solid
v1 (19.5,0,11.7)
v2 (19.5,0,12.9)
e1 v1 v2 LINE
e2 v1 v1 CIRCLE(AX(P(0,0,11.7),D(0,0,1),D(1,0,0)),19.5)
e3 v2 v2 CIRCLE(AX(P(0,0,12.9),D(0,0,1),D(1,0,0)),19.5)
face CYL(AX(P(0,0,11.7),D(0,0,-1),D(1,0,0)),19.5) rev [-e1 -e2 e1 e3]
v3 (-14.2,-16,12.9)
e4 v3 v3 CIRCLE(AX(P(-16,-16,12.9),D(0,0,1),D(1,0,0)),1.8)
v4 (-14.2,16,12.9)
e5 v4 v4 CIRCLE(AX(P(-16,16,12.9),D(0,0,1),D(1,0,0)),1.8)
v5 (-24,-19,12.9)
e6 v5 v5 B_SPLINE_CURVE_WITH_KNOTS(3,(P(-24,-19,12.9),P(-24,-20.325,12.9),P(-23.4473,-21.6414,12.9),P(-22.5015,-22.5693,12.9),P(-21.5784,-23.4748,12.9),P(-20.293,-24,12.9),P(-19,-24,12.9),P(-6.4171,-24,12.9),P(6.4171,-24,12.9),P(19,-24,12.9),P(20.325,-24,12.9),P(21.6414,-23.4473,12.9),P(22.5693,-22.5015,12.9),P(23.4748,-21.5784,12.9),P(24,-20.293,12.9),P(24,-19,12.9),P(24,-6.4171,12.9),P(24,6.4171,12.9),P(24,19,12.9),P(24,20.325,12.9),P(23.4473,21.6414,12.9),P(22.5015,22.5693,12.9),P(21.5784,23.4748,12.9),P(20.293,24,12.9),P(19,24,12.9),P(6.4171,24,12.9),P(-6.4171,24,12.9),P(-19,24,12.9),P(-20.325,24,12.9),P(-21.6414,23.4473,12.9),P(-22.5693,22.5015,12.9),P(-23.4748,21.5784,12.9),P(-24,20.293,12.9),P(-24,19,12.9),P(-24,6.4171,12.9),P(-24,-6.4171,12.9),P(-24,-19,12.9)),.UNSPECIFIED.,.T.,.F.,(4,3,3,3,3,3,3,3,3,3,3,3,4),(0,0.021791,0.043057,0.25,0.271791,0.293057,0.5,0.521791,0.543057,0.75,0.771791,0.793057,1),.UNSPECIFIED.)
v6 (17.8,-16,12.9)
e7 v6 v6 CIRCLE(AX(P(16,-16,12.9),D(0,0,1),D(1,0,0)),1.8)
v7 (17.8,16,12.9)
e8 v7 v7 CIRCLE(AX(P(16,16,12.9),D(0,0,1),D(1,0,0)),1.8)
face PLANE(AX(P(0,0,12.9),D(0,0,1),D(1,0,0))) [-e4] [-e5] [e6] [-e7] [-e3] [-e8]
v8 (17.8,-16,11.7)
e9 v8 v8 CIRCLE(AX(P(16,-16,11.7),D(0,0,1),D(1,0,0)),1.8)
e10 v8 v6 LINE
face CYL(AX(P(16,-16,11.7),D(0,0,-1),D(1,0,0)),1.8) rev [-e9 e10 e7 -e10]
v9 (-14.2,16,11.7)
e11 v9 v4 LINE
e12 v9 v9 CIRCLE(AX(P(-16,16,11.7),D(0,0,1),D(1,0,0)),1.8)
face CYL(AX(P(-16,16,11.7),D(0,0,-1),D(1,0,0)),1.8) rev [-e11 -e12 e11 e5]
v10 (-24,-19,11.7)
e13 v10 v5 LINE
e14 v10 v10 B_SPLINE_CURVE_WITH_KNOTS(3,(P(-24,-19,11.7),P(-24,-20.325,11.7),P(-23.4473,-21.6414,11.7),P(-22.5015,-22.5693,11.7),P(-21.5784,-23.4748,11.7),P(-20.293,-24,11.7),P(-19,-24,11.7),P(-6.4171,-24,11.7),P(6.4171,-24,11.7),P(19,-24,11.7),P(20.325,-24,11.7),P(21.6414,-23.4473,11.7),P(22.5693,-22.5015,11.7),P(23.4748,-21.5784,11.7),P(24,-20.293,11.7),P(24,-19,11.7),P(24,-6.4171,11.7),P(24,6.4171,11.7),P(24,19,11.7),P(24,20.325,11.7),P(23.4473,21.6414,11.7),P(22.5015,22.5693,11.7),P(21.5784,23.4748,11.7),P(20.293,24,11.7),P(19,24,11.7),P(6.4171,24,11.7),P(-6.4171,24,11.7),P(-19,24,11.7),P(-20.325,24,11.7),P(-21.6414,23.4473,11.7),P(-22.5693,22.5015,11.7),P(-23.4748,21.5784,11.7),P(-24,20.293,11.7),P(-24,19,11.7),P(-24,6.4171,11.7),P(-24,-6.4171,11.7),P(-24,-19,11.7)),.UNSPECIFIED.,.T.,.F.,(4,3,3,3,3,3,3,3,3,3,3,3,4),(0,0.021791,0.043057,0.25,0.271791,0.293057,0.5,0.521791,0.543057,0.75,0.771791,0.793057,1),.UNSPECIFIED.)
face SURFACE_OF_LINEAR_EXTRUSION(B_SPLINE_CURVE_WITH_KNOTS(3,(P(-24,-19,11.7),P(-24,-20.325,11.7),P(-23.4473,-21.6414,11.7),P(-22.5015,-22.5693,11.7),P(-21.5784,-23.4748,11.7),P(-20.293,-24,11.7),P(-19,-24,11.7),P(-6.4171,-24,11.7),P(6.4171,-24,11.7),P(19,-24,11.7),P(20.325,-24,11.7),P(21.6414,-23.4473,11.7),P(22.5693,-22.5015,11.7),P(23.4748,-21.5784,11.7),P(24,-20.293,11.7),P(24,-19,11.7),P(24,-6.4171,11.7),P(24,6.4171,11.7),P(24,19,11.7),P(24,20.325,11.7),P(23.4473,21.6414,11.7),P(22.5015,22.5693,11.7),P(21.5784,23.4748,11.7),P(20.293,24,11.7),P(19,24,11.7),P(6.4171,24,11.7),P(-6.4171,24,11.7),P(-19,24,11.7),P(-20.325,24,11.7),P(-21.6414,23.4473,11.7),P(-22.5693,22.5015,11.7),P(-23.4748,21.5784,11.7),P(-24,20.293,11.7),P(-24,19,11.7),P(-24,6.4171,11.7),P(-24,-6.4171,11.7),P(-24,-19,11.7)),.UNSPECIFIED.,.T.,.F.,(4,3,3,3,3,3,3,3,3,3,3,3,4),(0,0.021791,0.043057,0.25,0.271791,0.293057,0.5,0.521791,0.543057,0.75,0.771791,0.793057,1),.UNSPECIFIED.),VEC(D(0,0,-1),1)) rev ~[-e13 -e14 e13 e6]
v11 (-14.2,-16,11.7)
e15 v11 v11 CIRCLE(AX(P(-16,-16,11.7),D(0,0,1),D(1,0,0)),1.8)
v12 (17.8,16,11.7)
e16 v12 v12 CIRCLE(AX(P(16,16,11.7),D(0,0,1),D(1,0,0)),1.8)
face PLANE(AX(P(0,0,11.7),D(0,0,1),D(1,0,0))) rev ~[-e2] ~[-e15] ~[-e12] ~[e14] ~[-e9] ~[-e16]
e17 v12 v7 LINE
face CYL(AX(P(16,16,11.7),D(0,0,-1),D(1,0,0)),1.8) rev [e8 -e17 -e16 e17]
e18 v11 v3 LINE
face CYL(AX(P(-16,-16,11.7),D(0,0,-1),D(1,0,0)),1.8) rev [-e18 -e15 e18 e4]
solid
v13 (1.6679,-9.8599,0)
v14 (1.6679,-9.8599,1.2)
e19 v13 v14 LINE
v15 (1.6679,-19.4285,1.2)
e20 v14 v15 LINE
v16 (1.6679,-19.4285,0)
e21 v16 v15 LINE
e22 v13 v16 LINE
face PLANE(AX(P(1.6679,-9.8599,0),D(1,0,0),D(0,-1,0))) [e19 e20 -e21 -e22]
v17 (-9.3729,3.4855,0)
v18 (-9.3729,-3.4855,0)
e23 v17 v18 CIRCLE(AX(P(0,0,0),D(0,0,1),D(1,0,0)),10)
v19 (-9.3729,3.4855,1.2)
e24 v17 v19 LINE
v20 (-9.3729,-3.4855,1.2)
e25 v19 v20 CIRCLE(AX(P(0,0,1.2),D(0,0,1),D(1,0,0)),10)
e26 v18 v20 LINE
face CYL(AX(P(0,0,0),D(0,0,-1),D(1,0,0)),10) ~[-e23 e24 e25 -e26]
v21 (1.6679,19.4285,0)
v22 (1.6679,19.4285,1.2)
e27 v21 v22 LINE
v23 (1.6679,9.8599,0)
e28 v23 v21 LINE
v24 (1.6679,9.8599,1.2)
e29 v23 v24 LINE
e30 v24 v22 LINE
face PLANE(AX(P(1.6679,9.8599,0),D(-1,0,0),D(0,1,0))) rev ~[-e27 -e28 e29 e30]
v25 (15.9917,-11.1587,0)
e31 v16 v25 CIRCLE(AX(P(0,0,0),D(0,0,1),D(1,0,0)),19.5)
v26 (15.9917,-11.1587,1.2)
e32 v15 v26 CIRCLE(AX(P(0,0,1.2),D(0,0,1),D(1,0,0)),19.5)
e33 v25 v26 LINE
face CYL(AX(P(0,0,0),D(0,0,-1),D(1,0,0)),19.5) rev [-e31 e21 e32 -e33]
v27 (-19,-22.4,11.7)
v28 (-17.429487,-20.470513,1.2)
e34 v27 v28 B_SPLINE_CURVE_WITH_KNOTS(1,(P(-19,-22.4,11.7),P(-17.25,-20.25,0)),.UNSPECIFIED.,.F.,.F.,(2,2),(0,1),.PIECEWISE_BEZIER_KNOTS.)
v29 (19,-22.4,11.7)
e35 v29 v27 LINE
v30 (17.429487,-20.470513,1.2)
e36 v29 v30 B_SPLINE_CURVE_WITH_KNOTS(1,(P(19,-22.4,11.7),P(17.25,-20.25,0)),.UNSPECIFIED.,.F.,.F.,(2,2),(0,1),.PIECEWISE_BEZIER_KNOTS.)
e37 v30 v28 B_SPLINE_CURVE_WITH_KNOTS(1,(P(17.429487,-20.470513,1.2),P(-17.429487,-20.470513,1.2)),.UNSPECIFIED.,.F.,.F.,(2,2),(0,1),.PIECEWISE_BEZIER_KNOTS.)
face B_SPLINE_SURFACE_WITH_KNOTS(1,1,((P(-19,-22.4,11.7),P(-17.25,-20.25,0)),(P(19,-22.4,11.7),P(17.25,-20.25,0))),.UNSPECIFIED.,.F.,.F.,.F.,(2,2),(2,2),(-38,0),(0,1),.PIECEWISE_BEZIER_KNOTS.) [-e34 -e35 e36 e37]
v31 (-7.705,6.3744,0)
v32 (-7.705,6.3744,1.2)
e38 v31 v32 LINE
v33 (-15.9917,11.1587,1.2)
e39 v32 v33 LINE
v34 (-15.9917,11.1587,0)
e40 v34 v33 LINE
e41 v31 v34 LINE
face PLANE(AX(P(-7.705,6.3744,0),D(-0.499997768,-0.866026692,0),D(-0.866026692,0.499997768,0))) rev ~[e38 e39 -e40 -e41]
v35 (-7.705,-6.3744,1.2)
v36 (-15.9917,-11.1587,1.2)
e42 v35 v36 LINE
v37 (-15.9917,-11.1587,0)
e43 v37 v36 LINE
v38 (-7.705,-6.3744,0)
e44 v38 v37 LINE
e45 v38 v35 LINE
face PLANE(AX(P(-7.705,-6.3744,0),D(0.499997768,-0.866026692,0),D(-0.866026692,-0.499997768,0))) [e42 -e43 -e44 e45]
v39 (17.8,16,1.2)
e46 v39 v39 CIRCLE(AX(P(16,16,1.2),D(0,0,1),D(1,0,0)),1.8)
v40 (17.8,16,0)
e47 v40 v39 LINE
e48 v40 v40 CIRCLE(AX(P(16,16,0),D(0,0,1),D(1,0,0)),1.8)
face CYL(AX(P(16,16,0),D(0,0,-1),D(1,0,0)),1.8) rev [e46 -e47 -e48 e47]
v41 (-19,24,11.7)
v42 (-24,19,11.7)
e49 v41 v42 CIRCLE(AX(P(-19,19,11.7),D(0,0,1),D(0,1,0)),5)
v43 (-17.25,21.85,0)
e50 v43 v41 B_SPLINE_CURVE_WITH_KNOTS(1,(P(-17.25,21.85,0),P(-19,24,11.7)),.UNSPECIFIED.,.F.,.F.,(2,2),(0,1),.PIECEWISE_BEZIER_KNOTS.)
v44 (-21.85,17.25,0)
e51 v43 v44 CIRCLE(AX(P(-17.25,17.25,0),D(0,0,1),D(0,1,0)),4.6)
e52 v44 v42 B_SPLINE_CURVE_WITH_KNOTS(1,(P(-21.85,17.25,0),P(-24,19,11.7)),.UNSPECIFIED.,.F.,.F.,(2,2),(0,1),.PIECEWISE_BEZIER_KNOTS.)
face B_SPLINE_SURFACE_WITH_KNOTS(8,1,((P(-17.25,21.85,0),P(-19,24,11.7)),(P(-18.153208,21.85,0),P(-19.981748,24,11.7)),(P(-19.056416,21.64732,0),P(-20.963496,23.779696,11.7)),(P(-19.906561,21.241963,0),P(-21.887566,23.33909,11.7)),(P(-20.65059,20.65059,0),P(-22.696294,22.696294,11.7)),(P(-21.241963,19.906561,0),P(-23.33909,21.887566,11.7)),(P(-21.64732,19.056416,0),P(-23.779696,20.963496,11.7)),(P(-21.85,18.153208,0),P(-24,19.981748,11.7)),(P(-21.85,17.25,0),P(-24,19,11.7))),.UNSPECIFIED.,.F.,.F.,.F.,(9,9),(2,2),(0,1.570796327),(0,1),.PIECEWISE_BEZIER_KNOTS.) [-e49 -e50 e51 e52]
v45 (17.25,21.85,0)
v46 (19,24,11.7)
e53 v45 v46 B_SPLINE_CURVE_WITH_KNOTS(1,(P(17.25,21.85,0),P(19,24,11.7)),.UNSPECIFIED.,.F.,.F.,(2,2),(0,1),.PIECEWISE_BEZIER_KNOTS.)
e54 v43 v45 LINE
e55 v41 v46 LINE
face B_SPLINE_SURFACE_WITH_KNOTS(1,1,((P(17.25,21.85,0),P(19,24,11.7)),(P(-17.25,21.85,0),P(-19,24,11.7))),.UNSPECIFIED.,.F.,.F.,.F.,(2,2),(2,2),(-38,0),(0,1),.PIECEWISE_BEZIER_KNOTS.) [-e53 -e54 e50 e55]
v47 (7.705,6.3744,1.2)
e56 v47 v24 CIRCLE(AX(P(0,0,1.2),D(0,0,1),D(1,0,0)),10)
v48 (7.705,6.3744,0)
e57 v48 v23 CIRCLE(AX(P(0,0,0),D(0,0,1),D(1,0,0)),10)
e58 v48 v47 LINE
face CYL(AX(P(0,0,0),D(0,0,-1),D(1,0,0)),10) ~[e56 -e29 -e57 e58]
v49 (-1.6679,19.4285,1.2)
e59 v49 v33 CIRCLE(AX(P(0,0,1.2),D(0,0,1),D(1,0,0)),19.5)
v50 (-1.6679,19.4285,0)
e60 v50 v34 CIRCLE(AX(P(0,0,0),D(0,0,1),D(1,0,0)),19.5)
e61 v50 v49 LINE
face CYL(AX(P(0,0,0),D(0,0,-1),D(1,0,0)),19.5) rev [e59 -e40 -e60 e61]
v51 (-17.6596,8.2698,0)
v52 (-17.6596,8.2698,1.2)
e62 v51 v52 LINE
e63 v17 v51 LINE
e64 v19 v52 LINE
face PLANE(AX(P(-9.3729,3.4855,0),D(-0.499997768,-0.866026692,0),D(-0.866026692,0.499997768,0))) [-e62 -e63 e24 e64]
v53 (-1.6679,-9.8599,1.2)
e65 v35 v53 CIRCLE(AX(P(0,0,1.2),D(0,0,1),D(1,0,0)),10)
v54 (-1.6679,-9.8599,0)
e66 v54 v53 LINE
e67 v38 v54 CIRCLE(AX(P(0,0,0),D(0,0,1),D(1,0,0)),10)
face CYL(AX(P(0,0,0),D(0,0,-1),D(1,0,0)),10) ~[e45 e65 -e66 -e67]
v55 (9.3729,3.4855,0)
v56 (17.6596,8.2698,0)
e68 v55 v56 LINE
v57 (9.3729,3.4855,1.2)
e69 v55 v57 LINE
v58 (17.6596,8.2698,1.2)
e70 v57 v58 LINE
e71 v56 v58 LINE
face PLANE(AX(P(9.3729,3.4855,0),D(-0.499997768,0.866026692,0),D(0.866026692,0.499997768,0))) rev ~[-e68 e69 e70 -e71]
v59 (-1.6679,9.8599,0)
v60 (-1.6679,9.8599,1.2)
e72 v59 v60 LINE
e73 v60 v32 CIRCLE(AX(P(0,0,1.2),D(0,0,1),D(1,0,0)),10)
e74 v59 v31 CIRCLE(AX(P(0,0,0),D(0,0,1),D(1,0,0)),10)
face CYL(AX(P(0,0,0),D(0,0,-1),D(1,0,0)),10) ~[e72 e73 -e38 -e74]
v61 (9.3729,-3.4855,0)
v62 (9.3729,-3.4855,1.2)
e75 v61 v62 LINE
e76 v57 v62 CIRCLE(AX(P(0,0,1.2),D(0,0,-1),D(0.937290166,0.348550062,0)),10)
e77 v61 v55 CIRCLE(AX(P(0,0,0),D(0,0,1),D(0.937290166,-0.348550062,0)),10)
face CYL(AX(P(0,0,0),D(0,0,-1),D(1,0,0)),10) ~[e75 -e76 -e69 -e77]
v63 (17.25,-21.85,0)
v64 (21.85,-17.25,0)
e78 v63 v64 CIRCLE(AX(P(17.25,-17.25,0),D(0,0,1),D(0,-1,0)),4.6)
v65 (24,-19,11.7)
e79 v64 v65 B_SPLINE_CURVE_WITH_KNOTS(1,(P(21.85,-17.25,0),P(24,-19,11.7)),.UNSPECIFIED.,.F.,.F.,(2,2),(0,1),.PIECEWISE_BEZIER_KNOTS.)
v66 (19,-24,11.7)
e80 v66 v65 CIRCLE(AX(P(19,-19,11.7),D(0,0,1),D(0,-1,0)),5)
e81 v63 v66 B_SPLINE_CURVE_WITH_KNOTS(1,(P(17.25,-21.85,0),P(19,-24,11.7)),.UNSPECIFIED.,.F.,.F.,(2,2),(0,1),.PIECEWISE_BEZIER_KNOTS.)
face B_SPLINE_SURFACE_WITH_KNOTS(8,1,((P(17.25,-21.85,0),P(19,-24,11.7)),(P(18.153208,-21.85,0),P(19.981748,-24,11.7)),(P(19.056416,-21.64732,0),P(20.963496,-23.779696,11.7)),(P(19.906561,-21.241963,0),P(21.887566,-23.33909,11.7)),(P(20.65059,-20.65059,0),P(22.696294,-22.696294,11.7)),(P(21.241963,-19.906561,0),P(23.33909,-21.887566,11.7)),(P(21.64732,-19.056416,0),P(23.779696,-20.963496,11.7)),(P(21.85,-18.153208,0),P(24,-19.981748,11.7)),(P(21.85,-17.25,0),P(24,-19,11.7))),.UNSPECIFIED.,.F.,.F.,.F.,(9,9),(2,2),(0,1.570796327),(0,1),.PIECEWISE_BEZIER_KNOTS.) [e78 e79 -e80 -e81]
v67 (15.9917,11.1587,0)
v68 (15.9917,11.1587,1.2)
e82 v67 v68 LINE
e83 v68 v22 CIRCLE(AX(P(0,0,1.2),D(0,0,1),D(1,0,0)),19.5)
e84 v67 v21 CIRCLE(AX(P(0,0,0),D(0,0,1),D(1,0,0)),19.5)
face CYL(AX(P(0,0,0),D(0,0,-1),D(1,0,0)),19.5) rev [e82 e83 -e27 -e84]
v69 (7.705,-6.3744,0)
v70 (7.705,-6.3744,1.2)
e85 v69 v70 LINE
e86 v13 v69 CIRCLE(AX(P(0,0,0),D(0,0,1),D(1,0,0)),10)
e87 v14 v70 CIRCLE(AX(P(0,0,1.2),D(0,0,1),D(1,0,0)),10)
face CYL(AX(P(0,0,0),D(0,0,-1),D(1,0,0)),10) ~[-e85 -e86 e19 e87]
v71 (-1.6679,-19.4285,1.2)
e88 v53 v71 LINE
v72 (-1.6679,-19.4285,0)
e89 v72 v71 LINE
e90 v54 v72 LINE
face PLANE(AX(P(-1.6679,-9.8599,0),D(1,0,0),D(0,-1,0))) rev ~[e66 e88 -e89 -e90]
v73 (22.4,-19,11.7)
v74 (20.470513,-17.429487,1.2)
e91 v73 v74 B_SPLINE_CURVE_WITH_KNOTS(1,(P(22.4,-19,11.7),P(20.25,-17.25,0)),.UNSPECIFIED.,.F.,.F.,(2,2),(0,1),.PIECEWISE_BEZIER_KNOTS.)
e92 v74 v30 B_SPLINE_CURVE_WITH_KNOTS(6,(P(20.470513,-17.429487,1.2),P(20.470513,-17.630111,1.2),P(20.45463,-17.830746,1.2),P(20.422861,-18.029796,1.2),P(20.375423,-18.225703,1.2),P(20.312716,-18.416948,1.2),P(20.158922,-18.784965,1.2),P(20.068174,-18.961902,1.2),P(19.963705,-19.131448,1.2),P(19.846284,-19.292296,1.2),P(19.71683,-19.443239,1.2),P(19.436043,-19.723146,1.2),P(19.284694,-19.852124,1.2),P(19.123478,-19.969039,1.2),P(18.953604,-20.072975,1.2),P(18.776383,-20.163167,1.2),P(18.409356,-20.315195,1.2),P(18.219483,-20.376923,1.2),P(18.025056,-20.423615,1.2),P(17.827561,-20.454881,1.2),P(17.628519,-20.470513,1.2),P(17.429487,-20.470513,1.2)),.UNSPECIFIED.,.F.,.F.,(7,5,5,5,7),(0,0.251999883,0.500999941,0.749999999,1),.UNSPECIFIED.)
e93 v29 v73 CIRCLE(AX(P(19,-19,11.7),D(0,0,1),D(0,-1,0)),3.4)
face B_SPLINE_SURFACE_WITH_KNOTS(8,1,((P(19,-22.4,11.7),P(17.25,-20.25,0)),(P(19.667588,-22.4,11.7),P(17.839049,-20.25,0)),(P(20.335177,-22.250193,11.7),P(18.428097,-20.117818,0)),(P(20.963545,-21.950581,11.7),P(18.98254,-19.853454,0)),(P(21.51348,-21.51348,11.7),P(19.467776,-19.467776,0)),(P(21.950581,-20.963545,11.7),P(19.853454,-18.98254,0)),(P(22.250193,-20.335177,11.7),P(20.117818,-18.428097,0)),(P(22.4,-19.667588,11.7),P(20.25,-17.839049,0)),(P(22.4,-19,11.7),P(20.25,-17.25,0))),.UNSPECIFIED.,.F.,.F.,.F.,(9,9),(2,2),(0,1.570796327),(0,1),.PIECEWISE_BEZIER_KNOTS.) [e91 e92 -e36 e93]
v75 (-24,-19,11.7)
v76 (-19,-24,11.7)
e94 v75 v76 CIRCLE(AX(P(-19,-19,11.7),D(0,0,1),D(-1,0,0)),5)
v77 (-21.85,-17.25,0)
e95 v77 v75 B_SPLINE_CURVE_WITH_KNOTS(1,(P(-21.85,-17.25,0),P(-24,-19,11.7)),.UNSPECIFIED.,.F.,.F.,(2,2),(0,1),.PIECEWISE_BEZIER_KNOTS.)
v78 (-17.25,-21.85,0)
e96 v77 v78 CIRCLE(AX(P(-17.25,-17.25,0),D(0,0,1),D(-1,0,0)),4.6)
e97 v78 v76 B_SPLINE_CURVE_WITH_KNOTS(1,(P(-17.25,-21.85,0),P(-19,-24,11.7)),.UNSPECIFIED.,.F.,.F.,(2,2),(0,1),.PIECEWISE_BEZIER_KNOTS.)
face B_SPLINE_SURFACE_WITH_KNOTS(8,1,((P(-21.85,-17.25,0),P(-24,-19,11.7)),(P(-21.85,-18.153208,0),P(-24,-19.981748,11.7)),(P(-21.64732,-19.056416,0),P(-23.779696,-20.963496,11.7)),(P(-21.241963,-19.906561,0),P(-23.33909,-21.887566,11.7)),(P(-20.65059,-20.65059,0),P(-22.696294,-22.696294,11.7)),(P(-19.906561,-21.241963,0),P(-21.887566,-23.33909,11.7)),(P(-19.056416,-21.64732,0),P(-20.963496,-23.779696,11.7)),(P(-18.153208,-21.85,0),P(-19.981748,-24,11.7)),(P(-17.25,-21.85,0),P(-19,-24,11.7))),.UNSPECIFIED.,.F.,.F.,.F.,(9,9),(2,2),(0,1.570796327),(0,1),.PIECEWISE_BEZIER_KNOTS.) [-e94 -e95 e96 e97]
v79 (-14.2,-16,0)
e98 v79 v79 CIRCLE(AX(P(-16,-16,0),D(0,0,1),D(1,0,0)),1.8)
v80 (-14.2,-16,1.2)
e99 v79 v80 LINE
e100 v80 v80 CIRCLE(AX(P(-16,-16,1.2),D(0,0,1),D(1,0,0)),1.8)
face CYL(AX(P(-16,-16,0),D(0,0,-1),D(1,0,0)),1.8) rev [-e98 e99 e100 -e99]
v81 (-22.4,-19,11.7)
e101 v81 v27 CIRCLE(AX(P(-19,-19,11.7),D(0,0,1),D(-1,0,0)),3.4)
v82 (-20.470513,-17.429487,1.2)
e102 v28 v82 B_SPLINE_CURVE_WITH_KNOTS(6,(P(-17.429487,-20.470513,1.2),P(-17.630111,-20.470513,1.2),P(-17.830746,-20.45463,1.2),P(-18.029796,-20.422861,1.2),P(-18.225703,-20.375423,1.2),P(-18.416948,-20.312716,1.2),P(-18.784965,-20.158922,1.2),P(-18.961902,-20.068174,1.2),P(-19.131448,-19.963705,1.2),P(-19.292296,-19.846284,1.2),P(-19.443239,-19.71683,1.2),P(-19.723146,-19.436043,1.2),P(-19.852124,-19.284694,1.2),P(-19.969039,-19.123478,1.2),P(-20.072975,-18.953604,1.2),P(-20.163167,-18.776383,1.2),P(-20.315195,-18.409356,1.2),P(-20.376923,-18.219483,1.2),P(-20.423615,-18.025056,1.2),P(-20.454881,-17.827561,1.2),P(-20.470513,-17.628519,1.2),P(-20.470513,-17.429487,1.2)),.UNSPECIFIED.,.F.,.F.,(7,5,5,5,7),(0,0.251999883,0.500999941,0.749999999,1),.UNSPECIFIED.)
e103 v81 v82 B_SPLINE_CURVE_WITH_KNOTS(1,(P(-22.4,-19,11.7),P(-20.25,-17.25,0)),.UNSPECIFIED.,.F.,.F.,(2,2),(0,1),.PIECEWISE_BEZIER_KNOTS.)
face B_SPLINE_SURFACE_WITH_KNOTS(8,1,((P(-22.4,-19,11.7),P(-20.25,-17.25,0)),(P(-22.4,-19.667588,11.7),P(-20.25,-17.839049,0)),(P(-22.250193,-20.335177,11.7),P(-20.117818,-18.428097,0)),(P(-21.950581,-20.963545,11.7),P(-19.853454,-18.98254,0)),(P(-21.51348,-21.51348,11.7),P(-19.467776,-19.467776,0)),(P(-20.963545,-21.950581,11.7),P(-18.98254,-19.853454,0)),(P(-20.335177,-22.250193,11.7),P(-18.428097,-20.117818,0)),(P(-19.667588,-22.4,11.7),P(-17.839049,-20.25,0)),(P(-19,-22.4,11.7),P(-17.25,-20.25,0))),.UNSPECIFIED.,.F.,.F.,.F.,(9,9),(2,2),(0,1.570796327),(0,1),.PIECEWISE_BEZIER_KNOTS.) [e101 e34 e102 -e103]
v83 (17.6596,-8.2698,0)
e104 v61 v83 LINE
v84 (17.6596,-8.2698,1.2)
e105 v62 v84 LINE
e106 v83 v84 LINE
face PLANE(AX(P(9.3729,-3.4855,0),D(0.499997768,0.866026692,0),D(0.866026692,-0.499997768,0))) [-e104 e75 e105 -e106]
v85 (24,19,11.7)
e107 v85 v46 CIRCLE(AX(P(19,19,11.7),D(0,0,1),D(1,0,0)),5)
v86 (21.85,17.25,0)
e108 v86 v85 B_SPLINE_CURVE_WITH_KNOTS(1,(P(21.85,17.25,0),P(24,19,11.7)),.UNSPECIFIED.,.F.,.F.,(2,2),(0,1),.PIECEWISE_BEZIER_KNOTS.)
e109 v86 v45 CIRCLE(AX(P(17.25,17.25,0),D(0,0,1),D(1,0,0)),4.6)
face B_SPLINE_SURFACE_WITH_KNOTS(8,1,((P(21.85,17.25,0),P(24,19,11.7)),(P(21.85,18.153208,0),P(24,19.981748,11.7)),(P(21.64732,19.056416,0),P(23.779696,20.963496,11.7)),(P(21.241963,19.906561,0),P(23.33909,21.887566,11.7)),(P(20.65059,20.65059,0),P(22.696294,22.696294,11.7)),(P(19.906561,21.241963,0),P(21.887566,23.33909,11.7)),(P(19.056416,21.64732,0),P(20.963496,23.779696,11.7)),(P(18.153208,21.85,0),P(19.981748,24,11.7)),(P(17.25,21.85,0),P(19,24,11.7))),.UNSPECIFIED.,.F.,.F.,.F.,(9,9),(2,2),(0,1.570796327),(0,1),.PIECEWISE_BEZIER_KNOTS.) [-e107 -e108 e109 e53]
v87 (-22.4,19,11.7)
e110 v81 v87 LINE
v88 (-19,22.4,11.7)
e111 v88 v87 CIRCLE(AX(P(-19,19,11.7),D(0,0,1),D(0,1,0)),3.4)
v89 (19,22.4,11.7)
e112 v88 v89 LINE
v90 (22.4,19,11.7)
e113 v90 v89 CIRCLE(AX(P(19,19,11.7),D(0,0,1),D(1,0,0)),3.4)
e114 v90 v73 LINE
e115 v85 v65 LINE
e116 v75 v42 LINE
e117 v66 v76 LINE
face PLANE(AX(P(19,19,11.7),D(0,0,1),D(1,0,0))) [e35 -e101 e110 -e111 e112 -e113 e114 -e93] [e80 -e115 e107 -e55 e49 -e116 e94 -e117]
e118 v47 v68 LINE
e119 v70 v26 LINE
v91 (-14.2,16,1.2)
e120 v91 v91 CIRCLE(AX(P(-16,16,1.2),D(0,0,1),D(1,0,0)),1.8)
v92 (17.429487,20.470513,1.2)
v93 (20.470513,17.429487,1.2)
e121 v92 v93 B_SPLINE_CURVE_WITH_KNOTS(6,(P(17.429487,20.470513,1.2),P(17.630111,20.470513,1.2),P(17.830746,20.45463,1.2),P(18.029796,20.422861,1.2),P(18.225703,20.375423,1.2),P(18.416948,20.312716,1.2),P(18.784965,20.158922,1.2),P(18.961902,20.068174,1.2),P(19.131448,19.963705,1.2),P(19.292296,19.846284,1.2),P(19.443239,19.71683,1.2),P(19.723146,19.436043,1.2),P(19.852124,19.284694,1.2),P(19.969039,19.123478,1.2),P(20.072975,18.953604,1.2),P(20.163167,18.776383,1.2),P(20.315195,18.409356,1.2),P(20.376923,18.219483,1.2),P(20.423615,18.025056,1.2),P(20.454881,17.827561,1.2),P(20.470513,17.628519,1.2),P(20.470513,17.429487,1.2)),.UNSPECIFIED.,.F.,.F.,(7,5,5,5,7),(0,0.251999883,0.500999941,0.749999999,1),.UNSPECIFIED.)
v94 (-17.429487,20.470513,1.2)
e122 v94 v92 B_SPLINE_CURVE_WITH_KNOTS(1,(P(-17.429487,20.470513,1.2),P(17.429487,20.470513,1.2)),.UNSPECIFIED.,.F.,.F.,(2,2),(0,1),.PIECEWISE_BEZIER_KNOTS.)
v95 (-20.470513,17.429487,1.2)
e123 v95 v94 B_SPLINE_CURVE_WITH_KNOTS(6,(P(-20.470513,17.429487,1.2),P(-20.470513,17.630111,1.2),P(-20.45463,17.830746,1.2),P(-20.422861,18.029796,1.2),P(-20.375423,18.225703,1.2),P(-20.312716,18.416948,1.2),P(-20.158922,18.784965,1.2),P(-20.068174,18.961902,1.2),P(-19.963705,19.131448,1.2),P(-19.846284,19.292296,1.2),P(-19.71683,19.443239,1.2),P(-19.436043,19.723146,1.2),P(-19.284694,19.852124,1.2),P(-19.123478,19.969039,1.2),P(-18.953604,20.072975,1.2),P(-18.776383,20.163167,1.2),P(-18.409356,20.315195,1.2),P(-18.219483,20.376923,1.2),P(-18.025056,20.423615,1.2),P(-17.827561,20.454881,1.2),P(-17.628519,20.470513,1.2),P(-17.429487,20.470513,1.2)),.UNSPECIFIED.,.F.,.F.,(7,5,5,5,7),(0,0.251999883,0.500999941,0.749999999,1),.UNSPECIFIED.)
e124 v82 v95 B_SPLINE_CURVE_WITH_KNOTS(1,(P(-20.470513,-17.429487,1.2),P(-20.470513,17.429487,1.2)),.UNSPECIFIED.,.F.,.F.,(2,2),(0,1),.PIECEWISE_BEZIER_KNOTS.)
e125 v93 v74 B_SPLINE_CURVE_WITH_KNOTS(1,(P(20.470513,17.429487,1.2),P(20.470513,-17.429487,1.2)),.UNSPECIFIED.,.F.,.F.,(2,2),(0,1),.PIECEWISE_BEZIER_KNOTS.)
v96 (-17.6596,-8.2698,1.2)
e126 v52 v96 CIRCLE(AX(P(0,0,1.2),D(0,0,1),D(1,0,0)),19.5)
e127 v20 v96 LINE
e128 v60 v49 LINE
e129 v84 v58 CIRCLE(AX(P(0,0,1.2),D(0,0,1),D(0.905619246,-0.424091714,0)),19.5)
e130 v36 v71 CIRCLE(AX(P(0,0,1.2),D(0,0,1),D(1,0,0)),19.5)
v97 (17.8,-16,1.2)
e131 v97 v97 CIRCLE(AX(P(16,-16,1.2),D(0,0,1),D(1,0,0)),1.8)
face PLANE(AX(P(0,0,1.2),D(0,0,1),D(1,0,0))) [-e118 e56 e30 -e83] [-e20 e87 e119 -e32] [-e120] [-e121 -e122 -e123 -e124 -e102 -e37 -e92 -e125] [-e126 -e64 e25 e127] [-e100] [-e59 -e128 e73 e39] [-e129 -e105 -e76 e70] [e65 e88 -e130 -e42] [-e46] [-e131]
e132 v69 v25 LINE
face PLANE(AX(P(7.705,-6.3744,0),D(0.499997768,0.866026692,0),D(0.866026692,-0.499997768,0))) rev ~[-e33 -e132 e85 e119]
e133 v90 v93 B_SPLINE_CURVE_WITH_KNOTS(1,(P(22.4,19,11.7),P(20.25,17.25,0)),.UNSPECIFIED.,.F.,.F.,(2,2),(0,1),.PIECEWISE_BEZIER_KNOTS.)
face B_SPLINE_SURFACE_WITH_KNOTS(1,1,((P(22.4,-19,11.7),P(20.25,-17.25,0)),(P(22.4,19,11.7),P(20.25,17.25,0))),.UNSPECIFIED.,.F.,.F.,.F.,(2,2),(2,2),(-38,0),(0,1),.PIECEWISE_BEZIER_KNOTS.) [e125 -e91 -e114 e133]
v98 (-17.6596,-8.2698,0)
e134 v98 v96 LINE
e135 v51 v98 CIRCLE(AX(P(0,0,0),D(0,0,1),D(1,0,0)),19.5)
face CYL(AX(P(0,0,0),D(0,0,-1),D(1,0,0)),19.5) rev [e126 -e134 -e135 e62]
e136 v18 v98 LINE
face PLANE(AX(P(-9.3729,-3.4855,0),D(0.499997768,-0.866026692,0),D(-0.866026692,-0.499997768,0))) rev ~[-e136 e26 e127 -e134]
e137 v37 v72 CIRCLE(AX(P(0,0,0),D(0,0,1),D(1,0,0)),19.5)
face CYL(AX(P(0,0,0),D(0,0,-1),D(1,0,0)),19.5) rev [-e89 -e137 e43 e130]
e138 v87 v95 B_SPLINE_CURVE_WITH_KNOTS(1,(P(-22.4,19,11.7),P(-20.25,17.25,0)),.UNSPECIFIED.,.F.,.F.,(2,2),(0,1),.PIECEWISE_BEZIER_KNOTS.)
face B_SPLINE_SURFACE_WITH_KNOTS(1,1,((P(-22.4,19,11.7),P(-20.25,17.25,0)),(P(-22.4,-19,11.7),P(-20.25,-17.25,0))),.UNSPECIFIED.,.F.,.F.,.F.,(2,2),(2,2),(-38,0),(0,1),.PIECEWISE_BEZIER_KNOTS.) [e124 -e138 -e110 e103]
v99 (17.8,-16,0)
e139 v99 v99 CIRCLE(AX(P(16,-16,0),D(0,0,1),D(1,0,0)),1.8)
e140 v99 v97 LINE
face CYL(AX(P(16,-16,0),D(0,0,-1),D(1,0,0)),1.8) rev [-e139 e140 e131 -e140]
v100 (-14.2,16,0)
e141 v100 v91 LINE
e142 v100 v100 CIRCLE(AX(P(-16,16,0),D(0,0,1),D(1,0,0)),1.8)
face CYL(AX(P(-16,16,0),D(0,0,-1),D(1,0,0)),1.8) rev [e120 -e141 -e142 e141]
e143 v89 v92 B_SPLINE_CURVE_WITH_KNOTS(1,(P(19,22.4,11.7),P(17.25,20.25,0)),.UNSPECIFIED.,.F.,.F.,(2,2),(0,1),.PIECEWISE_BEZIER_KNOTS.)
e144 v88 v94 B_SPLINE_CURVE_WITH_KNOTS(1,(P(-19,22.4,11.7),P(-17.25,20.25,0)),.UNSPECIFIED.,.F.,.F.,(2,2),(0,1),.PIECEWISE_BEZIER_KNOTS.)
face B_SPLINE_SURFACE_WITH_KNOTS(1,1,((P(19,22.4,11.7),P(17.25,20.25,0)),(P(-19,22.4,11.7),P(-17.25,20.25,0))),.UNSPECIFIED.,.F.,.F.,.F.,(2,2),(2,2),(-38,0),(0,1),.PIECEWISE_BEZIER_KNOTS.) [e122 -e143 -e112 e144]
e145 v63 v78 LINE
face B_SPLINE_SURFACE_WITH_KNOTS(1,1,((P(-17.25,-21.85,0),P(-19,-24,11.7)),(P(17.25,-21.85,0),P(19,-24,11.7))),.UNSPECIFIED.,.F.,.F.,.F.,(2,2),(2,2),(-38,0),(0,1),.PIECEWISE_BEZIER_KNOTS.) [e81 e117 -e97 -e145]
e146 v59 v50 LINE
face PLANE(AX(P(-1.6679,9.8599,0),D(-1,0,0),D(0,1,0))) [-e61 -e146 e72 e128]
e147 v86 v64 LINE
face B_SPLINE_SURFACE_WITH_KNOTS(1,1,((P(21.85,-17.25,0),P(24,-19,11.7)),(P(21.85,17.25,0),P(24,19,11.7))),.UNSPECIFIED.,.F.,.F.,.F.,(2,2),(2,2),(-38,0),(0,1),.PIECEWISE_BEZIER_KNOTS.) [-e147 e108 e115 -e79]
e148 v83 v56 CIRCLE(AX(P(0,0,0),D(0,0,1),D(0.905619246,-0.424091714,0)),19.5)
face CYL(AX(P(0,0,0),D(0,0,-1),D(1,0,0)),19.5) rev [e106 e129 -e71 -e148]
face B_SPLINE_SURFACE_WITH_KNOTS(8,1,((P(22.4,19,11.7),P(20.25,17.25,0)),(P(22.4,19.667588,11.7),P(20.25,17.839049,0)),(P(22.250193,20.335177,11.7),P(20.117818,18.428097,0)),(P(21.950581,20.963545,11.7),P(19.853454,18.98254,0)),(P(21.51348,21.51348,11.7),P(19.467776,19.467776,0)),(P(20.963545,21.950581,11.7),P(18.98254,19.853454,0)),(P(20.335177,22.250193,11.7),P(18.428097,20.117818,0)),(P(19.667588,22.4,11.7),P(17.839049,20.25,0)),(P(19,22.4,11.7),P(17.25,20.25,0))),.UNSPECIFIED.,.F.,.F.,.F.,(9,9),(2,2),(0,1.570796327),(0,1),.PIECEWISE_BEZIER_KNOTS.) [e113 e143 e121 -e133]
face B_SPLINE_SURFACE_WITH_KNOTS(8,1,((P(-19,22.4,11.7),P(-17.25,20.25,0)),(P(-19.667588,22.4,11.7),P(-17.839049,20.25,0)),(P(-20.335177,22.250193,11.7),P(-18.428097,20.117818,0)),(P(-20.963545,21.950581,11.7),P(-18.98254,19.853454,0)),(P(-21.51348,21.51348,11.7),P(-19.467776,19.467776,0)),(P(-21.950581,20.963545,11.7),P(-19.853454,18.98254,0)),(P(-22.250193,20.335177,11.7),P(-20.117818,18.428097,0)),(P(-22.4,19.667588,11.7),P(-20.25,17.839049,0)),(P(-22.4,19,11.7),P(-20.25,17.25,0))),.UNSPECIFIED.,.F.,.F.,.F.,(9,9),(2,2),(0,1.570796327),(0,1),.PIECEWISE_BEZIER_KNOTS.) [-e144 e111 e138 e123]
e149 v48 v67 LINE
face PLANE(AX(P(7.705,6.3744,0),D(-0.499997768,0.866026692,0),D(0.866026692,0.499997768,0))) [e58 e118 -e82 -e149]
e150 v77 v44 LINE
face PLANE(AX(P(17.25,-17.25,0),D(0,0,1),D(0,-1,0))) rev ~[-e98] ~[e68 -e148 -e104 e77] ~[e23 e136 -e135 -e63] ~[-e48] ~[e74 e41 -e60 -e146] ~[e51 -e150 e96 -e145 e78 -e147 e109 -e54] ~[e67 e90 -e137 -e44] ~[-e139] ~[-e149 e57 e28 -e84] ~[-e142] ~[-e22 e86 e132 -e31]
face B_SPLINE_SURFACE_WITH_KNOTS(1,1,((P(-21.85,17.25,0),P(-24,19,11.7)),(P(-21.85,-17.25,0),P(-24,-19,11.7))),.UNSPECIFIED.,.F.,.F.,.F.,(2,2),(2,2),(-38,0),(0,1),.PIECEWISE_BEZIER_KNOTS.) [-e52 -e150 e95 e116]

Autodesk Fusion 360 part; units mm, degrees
sketch "Base Master" plane through (0, 0, 0) normal (0, 0, 1) x (1, 0, 0)
  circle A0 centre (0, 0) radius 19.5
  line L0 (16, -16) -> (-16, -16) construction
  line L1 (-16, -16) -> (-16, 16) construction
  line L2 (-16, 16) -> (16, 16) construction
  line L3 (16, 16) -> (16, -16) construction
  line L4 (16, -16) -> (-16, 16) construction
  line L5 (-16, -16) -> (16, 16) construction
  circle A1 centre (-16, 16) radius 1.8
  circle A2 centre (16, 16) radius 1.8
  circle A3 centre (16, -16) radius 1.8
  circle A4 centre (-16, -16) radius 1.8
  line L6 (17.25, -20.25) -> (-17.25, -20.25)
  line L7 (-20.25, -17.25) -> (-20.25, 17.25)
  line L8 (-17.25, 20.25) -> (17.25, 20.25)
  line L9 (20.25, 17.25) -> (20.25, -17.25)
  line L10 (20.25, -20.25) -> (-20.25, 20.25) construction
  line L11 (-20.25, -20.25) -> (20.25, 20.25) construction
  arc A5 (-17.25, 20.25) -> (-20.25, 17.25) centre (-17.25, 17.25) ccw
  arc A6 (20.25, 17.25) -> (17.25, 20.25) centre (17.25, 17.25) ccw
  arc A7 (17.25, -20.25) -> (20.25, -17.25) centre (17.25, -17.25) ccw
  arc A8 (-20.25, -17.25) -> (-17.25, -20.25) centre (-17.25, -17.25) ccw
  line L12 (-21.85, -17.25) -> (-21.85, 17.25)
  arc A9 (-17.25, 21.85) -> (-21.85, 17.25) centre (-17.25, 17.25) ccw
  line L13 (-17.25, 21.85) -> (17.25, 21.85)
  arc A10 (21.85, 17.25) -> (17.25, 21.85) centre (17.25, 17.25) ccw
  line L14 (21.85, 17.25) -> (21.85, -17.25)
  arc A11 (17.25, -21.85) -> (21.85, -17.25) centre (17.25, -17.25) ccw
  line L15 (17.25, -21.85) -> (-17.25, -21.85)
  arc A12 (-21.85, -17.25) -> (-17.25, -21.85) centre (-17.25, -17.25) ccw
  dimension "d10" = 39
  dimension "d11" = 32
  dimension "d12" = 32
  dimension "d13" = 3.6
  dimension "d14" = 3.6
  dimension "d15" = 3.6
  dimension "d16" = 3.6
  dimension "d18" = 40.5
  dimension "d19" = 40.5
  dimension "d20" = 3
  dimension "d21" = 3
  dimension "d22" = 3
  dimension "d23" = 3
sketch "Base Loft" plane through (0, 0, 0) normal (0, 0, 1) x (1, 0, 0)
  arc A0 (21.85, 17.25) -> (17.25, 21.85) centre (17.25, 17.25) ccw
  line L0 (21.85, 17.25) -> (21.85, -17.25)
  arc A1 (17.25, -21.85) -> (21.85, -17.25) centre (17.25, -17.25) ccw
  line L1 (17.25, -21.85) -> (-17.25, -21.85)
  arc A2 (-21.85, -17.25) -> (-17.25, -21.85) centre (-17.25, -17.25) ccw
  line L2 (-21.85, -17.25) -> (-21.85, 17.25)
  arc A3 (-17.25, 21.85) -> (-21.85, 17.25) centre (-17.25, 17.25) ccw
  line L3 (-17.25, 21.85) -> (17.25, 21.85)
  arc A4 (20.25, 17.25) -> (17.25, 20.25) centre (17.25, 17.25) ccw
  line L4 (20.25, 17.25) -> (20.25, -17.25)
  arc A5 (17.25, -20.25) -> (20.25, -17.25) centre (17.25, -17.25) ccw
  line L5 (17.25, -20.25) -> (-17.25, -20.25)
  arc A6 (-20.25, -17.25) -> (-17.25, -20.25) centre (-17.25, -17.25) ccw
  line L6 (-20.25, -17.25) -> (-20.25, 17.25)
  arc A7 (-17.25, 20.25) -> (-20.25, 17.25) centre (-17.25, 17.25) ccw
  line L7 (-17.25, 20.25) -> (17.25, 20.25)
ref_plane "WorkPlane1" through (0, 0, 11.7) normal (0, 0, 1) x (1, 0, 0)
sketch "Top Loft" plane through (0, 0, 11.7) normal (0, 0, 1) x (1, 0, 0)
  line L0 (19, -24) -> (-19, -24)
  line L1 (-24, -19) -> (-24, 19)
  line L2 (-19, 24) -> (19, 24)
  line L3 (24, 19) -> (24, -19)
  line L4 (24, -24) -> (-24, 24) construction
  line L5 (-24, -24) -> (24, 24) construction
  arc A0 (-19, 24) -> (-24, 19) centre (-19, 19) ccw
  arc A1 (24, 19) -> (19, 24) centre (19, 19) ccw
  arc A2 (-24, -19) -> (-19, -24) centre (-19, -19) ccw
  arc A3 (19, -24) -> (24, -19) centre (19, -19) ccw
  line L6 (-19, 22.4) -> (19, 22.4)
  arc A4 (22.4, 19) -> (19, 22.4) centre (19, 19) ccw
  line L7 (22.4, 19) -> (22.4, -19)
  arc A5 (19, -22.4) -> (22.4, -19) centre (19, -19) ccw
  line L8 (19, -22.4) -> (-19, -22.4)
  arc A6 (-22.4, -19) -> (-19, -22.4) centre (-19, -19) ccw
  line L9 (-22.4, -19) -> (-22.4, 19)
  arc A7 (-19, 22.4) -> (-22.4, 19) centre (-19, 19) ccw
  dimension "d27" = 48
  dimension "d28" = 48
  dimension "d29" = 5
  dimension "d30" = 5
  dimension "d31" = 5
  dimension "d32" = 5
  dimension "d33" = 1.6
loft "Loft1" add profiles "Base Loft", "Top Loft" section 1 section 2 contours L0 L1 L2 L3 A0 A1 A2 A3 | L6 A4 L7 A5 L8 A6 L9 A7 makes body 1 in component "Fan Cage"
loft "Loft2" cut profiles "Top Loft", "Base Loft" section 1 contours L6 A4 L7 A5 L8 A6 L9 A7 section 2 contours A4 L4 A5 L5 A6 L6 A7 L7 bodies 1 in component "Fan Cage"
extrude "Extrude1" add sketch "Base Master" along normal blind 1.2 contours L6 L7 L8 L9 A5 A6 A7 A8 | L12 A9 L13 A10 L14 A11 L15 A12 bodies 1 in component "Fan Cage"
sketch "Sketch4" plane through (0, 0, 0) normal (0, 0, 1) x (1, 0, 0)
  circle A0 centre (0, 0) radius 10
  line L0 (0, 0) -> (0, 20) construction
  line L1 (1.6679, 9.8599) -> (1.6679, 19.4285)
  line L2 (-1.6679, 9.8599) -> (-1.6679, 19.4285)
  circle A1 centre (0, 0) radius 19.5
  line L3 (-7.705, 6.3744) -> (-15.9917, 11.1587)
  line L4 (-9.3729, 3.4855) -> (-17.6596, 8.2698)
  line L5 (-9.3729, -3.4855) -> (-17.6596, -8.2698)
  line L6 (-7.705, -6.3744) -> (-15.9917, -11.1587)
  line L7 (-1.6679, -9.8599) -> (-1.6679, -19.4285)
  line L8 (1.6679, -9.8599) -> (1.6679, -19.4285)
  line L9 (7.705, -6.3744) -> (15.9917, -11.1587)
  line L10 (9.3729, -3.4855) -> (17.6596, -8.2698)
  line L11 (9.3729, 3.4855) -> (17.6596, 8.2698)
  line L12 (7.705, 6.3744) -> (15.9917, 11.1587)
  dimension "d38" = 20
  dimension "d41" = 360
extrude "Extrude2" add sketch "Sketch4" along normal up to surface (1.2 mm away) contours A0 | A0 A1 L11 L12 | A0 A1 L9 L10 | A0 L1 L2 A1 | A0 A1 L7 L8 | A0 A1 L3 L4 | A0 A1 L5 L6 bodies 1 in component "Fan Cage"
sketch "Sketch5" plane through (0, 0, 11.7) normal (0, 0, 1) x (1, 0, 0)
  circle A0 centre (-16, 16) radius 1.8
  circle A1 centre (16, 16) radius 1.8
  circle A2 centre (16, -16) radius 1.8
  circle A3 centre (-16, -16) radius 1.8
  spline S0 degree 3 poles (-24, -19) (-24, -20.325) (-23.4473, -21.6414) (-22.5015, -22.5693) (-21.5784, -23.4748) (-20.293, -24) (-19, -24) (-6.4171, -24) (6.4171, -24) (19, -24) (20.325, -24) (21.6414, -23.4473) (22.5693, -22.5015) (23.4748, -21.5784) (24, -20.293) (24, -19) (24, -6.4171) (24, 6.4171) (24, 19) (24, 20.325) (23.4473, 21.6414) (22.5015, 22.5693) (21.5784, 23.4748) (20.293, 24) (19, 24) (6.4171, 24) (-6.4171, 24) (-19, 24) (-20.325, 24) (-21.6414, 23.4473) (-22.5693, 22.5015) (-23.4748, 21.5784) (-24, 20.293) (-24, 19) (-24, 6.4171) (-24, -6.4171) (-24, -19) knots 0 0 0 0 0.021791 0.021791 0.021791 0.043057 0.043057 0.043057 0.25 0.25 0.25 0.271791 0.271791 0.271791 0.293057 0.293057 0.293057 0.5 0.5 0.5 0.521791 0.521791 0.521791 0.543057 0.543057 0.543057 0.75 0.75 0.75 0.771791 0.771791 0.771791 0.793057 0.793057 0.793057 1 1 1 1
  circle A4 centre (0, 0) radius 19.5
extrude "Extrude1'" add sketch "Sketch5" along normal blind 1.2 separate body makes body 2 in component "TPU Gasket"
component "Fan Cage" placed x (1, 0, 0) y (0, 1, 0) z (0, 0, 1) at (0, 0, 0)
component "TPU Gasket" placed x (1, 0, 0) y (0, 1, 0) z (0, 0, 1) at (0, 0, 0)
equation "fan_dia = 40 mm" comment "Diameter of the fan itself"
equation "hole_dia = fan_dia - 1 mm" comment "Actual size of the fan hole"
equation "screw_hole_dia = 3.6 mm" comment "Screw hole size"
equation "screw_hole_spacing = 32 mm" comment "Space between screws"
equation "fillet_fan = 3 mm" comment "Radius of fan edge fillet"
equation "fillet_wide = 5 mm" comment "Radius of large edge fillet"
equation "inside_margin = 1 mm" comment "Space around fan inside cage"
equation "fan_thickness = 10 mm" comment "Thickness of fan"
equation "wide_edge = fan_dia + 8 mm" comment "Distance between widest edges"
equation "d10 = hole_dia"
equation "d11 = screw_hole_spacing"
equation "d12 = screw_hole_spacing"
equation "d13 = screw_hole_dia"
equation "d14 = d13"
equation "d15 = d13"
equation "d16 = d13"
equation "narrow_edge = fan_dia + 0.5 mm" comment "Distance between shortest edges"
equation "d18 = narrow_edge"
equation "d19 = narrow_edge"
equation "d20 = fillet_fan"
equation "d21 = fillet_fan"
equation "d22 = fillet_fan"
equation "d23 = fillet_fan"
equation "wall_thickness = 1.6 mm"
equation "d25 = -wall_thickness"
equation "d26 = fan_thickness + face_thickness + 0.5 mm"
equation "d27 = wide_edge"
equation "d28 = wide_edge"
equation "d29 = fillet_wide"
equation "d30 = fillet_wide"
equation "d31 = fillet_wide"
equation "d32 = fillet_wide"
equation "d33 = wall_thickness"
equation "face_thickness = 1.2 mm" comment "Thickness of fan face"
equation "d35 = face_thickness"
equation "motor_dia = 20 mm" comment "Area in center covered by fan motor"
equation "d38 = motor_dia"
